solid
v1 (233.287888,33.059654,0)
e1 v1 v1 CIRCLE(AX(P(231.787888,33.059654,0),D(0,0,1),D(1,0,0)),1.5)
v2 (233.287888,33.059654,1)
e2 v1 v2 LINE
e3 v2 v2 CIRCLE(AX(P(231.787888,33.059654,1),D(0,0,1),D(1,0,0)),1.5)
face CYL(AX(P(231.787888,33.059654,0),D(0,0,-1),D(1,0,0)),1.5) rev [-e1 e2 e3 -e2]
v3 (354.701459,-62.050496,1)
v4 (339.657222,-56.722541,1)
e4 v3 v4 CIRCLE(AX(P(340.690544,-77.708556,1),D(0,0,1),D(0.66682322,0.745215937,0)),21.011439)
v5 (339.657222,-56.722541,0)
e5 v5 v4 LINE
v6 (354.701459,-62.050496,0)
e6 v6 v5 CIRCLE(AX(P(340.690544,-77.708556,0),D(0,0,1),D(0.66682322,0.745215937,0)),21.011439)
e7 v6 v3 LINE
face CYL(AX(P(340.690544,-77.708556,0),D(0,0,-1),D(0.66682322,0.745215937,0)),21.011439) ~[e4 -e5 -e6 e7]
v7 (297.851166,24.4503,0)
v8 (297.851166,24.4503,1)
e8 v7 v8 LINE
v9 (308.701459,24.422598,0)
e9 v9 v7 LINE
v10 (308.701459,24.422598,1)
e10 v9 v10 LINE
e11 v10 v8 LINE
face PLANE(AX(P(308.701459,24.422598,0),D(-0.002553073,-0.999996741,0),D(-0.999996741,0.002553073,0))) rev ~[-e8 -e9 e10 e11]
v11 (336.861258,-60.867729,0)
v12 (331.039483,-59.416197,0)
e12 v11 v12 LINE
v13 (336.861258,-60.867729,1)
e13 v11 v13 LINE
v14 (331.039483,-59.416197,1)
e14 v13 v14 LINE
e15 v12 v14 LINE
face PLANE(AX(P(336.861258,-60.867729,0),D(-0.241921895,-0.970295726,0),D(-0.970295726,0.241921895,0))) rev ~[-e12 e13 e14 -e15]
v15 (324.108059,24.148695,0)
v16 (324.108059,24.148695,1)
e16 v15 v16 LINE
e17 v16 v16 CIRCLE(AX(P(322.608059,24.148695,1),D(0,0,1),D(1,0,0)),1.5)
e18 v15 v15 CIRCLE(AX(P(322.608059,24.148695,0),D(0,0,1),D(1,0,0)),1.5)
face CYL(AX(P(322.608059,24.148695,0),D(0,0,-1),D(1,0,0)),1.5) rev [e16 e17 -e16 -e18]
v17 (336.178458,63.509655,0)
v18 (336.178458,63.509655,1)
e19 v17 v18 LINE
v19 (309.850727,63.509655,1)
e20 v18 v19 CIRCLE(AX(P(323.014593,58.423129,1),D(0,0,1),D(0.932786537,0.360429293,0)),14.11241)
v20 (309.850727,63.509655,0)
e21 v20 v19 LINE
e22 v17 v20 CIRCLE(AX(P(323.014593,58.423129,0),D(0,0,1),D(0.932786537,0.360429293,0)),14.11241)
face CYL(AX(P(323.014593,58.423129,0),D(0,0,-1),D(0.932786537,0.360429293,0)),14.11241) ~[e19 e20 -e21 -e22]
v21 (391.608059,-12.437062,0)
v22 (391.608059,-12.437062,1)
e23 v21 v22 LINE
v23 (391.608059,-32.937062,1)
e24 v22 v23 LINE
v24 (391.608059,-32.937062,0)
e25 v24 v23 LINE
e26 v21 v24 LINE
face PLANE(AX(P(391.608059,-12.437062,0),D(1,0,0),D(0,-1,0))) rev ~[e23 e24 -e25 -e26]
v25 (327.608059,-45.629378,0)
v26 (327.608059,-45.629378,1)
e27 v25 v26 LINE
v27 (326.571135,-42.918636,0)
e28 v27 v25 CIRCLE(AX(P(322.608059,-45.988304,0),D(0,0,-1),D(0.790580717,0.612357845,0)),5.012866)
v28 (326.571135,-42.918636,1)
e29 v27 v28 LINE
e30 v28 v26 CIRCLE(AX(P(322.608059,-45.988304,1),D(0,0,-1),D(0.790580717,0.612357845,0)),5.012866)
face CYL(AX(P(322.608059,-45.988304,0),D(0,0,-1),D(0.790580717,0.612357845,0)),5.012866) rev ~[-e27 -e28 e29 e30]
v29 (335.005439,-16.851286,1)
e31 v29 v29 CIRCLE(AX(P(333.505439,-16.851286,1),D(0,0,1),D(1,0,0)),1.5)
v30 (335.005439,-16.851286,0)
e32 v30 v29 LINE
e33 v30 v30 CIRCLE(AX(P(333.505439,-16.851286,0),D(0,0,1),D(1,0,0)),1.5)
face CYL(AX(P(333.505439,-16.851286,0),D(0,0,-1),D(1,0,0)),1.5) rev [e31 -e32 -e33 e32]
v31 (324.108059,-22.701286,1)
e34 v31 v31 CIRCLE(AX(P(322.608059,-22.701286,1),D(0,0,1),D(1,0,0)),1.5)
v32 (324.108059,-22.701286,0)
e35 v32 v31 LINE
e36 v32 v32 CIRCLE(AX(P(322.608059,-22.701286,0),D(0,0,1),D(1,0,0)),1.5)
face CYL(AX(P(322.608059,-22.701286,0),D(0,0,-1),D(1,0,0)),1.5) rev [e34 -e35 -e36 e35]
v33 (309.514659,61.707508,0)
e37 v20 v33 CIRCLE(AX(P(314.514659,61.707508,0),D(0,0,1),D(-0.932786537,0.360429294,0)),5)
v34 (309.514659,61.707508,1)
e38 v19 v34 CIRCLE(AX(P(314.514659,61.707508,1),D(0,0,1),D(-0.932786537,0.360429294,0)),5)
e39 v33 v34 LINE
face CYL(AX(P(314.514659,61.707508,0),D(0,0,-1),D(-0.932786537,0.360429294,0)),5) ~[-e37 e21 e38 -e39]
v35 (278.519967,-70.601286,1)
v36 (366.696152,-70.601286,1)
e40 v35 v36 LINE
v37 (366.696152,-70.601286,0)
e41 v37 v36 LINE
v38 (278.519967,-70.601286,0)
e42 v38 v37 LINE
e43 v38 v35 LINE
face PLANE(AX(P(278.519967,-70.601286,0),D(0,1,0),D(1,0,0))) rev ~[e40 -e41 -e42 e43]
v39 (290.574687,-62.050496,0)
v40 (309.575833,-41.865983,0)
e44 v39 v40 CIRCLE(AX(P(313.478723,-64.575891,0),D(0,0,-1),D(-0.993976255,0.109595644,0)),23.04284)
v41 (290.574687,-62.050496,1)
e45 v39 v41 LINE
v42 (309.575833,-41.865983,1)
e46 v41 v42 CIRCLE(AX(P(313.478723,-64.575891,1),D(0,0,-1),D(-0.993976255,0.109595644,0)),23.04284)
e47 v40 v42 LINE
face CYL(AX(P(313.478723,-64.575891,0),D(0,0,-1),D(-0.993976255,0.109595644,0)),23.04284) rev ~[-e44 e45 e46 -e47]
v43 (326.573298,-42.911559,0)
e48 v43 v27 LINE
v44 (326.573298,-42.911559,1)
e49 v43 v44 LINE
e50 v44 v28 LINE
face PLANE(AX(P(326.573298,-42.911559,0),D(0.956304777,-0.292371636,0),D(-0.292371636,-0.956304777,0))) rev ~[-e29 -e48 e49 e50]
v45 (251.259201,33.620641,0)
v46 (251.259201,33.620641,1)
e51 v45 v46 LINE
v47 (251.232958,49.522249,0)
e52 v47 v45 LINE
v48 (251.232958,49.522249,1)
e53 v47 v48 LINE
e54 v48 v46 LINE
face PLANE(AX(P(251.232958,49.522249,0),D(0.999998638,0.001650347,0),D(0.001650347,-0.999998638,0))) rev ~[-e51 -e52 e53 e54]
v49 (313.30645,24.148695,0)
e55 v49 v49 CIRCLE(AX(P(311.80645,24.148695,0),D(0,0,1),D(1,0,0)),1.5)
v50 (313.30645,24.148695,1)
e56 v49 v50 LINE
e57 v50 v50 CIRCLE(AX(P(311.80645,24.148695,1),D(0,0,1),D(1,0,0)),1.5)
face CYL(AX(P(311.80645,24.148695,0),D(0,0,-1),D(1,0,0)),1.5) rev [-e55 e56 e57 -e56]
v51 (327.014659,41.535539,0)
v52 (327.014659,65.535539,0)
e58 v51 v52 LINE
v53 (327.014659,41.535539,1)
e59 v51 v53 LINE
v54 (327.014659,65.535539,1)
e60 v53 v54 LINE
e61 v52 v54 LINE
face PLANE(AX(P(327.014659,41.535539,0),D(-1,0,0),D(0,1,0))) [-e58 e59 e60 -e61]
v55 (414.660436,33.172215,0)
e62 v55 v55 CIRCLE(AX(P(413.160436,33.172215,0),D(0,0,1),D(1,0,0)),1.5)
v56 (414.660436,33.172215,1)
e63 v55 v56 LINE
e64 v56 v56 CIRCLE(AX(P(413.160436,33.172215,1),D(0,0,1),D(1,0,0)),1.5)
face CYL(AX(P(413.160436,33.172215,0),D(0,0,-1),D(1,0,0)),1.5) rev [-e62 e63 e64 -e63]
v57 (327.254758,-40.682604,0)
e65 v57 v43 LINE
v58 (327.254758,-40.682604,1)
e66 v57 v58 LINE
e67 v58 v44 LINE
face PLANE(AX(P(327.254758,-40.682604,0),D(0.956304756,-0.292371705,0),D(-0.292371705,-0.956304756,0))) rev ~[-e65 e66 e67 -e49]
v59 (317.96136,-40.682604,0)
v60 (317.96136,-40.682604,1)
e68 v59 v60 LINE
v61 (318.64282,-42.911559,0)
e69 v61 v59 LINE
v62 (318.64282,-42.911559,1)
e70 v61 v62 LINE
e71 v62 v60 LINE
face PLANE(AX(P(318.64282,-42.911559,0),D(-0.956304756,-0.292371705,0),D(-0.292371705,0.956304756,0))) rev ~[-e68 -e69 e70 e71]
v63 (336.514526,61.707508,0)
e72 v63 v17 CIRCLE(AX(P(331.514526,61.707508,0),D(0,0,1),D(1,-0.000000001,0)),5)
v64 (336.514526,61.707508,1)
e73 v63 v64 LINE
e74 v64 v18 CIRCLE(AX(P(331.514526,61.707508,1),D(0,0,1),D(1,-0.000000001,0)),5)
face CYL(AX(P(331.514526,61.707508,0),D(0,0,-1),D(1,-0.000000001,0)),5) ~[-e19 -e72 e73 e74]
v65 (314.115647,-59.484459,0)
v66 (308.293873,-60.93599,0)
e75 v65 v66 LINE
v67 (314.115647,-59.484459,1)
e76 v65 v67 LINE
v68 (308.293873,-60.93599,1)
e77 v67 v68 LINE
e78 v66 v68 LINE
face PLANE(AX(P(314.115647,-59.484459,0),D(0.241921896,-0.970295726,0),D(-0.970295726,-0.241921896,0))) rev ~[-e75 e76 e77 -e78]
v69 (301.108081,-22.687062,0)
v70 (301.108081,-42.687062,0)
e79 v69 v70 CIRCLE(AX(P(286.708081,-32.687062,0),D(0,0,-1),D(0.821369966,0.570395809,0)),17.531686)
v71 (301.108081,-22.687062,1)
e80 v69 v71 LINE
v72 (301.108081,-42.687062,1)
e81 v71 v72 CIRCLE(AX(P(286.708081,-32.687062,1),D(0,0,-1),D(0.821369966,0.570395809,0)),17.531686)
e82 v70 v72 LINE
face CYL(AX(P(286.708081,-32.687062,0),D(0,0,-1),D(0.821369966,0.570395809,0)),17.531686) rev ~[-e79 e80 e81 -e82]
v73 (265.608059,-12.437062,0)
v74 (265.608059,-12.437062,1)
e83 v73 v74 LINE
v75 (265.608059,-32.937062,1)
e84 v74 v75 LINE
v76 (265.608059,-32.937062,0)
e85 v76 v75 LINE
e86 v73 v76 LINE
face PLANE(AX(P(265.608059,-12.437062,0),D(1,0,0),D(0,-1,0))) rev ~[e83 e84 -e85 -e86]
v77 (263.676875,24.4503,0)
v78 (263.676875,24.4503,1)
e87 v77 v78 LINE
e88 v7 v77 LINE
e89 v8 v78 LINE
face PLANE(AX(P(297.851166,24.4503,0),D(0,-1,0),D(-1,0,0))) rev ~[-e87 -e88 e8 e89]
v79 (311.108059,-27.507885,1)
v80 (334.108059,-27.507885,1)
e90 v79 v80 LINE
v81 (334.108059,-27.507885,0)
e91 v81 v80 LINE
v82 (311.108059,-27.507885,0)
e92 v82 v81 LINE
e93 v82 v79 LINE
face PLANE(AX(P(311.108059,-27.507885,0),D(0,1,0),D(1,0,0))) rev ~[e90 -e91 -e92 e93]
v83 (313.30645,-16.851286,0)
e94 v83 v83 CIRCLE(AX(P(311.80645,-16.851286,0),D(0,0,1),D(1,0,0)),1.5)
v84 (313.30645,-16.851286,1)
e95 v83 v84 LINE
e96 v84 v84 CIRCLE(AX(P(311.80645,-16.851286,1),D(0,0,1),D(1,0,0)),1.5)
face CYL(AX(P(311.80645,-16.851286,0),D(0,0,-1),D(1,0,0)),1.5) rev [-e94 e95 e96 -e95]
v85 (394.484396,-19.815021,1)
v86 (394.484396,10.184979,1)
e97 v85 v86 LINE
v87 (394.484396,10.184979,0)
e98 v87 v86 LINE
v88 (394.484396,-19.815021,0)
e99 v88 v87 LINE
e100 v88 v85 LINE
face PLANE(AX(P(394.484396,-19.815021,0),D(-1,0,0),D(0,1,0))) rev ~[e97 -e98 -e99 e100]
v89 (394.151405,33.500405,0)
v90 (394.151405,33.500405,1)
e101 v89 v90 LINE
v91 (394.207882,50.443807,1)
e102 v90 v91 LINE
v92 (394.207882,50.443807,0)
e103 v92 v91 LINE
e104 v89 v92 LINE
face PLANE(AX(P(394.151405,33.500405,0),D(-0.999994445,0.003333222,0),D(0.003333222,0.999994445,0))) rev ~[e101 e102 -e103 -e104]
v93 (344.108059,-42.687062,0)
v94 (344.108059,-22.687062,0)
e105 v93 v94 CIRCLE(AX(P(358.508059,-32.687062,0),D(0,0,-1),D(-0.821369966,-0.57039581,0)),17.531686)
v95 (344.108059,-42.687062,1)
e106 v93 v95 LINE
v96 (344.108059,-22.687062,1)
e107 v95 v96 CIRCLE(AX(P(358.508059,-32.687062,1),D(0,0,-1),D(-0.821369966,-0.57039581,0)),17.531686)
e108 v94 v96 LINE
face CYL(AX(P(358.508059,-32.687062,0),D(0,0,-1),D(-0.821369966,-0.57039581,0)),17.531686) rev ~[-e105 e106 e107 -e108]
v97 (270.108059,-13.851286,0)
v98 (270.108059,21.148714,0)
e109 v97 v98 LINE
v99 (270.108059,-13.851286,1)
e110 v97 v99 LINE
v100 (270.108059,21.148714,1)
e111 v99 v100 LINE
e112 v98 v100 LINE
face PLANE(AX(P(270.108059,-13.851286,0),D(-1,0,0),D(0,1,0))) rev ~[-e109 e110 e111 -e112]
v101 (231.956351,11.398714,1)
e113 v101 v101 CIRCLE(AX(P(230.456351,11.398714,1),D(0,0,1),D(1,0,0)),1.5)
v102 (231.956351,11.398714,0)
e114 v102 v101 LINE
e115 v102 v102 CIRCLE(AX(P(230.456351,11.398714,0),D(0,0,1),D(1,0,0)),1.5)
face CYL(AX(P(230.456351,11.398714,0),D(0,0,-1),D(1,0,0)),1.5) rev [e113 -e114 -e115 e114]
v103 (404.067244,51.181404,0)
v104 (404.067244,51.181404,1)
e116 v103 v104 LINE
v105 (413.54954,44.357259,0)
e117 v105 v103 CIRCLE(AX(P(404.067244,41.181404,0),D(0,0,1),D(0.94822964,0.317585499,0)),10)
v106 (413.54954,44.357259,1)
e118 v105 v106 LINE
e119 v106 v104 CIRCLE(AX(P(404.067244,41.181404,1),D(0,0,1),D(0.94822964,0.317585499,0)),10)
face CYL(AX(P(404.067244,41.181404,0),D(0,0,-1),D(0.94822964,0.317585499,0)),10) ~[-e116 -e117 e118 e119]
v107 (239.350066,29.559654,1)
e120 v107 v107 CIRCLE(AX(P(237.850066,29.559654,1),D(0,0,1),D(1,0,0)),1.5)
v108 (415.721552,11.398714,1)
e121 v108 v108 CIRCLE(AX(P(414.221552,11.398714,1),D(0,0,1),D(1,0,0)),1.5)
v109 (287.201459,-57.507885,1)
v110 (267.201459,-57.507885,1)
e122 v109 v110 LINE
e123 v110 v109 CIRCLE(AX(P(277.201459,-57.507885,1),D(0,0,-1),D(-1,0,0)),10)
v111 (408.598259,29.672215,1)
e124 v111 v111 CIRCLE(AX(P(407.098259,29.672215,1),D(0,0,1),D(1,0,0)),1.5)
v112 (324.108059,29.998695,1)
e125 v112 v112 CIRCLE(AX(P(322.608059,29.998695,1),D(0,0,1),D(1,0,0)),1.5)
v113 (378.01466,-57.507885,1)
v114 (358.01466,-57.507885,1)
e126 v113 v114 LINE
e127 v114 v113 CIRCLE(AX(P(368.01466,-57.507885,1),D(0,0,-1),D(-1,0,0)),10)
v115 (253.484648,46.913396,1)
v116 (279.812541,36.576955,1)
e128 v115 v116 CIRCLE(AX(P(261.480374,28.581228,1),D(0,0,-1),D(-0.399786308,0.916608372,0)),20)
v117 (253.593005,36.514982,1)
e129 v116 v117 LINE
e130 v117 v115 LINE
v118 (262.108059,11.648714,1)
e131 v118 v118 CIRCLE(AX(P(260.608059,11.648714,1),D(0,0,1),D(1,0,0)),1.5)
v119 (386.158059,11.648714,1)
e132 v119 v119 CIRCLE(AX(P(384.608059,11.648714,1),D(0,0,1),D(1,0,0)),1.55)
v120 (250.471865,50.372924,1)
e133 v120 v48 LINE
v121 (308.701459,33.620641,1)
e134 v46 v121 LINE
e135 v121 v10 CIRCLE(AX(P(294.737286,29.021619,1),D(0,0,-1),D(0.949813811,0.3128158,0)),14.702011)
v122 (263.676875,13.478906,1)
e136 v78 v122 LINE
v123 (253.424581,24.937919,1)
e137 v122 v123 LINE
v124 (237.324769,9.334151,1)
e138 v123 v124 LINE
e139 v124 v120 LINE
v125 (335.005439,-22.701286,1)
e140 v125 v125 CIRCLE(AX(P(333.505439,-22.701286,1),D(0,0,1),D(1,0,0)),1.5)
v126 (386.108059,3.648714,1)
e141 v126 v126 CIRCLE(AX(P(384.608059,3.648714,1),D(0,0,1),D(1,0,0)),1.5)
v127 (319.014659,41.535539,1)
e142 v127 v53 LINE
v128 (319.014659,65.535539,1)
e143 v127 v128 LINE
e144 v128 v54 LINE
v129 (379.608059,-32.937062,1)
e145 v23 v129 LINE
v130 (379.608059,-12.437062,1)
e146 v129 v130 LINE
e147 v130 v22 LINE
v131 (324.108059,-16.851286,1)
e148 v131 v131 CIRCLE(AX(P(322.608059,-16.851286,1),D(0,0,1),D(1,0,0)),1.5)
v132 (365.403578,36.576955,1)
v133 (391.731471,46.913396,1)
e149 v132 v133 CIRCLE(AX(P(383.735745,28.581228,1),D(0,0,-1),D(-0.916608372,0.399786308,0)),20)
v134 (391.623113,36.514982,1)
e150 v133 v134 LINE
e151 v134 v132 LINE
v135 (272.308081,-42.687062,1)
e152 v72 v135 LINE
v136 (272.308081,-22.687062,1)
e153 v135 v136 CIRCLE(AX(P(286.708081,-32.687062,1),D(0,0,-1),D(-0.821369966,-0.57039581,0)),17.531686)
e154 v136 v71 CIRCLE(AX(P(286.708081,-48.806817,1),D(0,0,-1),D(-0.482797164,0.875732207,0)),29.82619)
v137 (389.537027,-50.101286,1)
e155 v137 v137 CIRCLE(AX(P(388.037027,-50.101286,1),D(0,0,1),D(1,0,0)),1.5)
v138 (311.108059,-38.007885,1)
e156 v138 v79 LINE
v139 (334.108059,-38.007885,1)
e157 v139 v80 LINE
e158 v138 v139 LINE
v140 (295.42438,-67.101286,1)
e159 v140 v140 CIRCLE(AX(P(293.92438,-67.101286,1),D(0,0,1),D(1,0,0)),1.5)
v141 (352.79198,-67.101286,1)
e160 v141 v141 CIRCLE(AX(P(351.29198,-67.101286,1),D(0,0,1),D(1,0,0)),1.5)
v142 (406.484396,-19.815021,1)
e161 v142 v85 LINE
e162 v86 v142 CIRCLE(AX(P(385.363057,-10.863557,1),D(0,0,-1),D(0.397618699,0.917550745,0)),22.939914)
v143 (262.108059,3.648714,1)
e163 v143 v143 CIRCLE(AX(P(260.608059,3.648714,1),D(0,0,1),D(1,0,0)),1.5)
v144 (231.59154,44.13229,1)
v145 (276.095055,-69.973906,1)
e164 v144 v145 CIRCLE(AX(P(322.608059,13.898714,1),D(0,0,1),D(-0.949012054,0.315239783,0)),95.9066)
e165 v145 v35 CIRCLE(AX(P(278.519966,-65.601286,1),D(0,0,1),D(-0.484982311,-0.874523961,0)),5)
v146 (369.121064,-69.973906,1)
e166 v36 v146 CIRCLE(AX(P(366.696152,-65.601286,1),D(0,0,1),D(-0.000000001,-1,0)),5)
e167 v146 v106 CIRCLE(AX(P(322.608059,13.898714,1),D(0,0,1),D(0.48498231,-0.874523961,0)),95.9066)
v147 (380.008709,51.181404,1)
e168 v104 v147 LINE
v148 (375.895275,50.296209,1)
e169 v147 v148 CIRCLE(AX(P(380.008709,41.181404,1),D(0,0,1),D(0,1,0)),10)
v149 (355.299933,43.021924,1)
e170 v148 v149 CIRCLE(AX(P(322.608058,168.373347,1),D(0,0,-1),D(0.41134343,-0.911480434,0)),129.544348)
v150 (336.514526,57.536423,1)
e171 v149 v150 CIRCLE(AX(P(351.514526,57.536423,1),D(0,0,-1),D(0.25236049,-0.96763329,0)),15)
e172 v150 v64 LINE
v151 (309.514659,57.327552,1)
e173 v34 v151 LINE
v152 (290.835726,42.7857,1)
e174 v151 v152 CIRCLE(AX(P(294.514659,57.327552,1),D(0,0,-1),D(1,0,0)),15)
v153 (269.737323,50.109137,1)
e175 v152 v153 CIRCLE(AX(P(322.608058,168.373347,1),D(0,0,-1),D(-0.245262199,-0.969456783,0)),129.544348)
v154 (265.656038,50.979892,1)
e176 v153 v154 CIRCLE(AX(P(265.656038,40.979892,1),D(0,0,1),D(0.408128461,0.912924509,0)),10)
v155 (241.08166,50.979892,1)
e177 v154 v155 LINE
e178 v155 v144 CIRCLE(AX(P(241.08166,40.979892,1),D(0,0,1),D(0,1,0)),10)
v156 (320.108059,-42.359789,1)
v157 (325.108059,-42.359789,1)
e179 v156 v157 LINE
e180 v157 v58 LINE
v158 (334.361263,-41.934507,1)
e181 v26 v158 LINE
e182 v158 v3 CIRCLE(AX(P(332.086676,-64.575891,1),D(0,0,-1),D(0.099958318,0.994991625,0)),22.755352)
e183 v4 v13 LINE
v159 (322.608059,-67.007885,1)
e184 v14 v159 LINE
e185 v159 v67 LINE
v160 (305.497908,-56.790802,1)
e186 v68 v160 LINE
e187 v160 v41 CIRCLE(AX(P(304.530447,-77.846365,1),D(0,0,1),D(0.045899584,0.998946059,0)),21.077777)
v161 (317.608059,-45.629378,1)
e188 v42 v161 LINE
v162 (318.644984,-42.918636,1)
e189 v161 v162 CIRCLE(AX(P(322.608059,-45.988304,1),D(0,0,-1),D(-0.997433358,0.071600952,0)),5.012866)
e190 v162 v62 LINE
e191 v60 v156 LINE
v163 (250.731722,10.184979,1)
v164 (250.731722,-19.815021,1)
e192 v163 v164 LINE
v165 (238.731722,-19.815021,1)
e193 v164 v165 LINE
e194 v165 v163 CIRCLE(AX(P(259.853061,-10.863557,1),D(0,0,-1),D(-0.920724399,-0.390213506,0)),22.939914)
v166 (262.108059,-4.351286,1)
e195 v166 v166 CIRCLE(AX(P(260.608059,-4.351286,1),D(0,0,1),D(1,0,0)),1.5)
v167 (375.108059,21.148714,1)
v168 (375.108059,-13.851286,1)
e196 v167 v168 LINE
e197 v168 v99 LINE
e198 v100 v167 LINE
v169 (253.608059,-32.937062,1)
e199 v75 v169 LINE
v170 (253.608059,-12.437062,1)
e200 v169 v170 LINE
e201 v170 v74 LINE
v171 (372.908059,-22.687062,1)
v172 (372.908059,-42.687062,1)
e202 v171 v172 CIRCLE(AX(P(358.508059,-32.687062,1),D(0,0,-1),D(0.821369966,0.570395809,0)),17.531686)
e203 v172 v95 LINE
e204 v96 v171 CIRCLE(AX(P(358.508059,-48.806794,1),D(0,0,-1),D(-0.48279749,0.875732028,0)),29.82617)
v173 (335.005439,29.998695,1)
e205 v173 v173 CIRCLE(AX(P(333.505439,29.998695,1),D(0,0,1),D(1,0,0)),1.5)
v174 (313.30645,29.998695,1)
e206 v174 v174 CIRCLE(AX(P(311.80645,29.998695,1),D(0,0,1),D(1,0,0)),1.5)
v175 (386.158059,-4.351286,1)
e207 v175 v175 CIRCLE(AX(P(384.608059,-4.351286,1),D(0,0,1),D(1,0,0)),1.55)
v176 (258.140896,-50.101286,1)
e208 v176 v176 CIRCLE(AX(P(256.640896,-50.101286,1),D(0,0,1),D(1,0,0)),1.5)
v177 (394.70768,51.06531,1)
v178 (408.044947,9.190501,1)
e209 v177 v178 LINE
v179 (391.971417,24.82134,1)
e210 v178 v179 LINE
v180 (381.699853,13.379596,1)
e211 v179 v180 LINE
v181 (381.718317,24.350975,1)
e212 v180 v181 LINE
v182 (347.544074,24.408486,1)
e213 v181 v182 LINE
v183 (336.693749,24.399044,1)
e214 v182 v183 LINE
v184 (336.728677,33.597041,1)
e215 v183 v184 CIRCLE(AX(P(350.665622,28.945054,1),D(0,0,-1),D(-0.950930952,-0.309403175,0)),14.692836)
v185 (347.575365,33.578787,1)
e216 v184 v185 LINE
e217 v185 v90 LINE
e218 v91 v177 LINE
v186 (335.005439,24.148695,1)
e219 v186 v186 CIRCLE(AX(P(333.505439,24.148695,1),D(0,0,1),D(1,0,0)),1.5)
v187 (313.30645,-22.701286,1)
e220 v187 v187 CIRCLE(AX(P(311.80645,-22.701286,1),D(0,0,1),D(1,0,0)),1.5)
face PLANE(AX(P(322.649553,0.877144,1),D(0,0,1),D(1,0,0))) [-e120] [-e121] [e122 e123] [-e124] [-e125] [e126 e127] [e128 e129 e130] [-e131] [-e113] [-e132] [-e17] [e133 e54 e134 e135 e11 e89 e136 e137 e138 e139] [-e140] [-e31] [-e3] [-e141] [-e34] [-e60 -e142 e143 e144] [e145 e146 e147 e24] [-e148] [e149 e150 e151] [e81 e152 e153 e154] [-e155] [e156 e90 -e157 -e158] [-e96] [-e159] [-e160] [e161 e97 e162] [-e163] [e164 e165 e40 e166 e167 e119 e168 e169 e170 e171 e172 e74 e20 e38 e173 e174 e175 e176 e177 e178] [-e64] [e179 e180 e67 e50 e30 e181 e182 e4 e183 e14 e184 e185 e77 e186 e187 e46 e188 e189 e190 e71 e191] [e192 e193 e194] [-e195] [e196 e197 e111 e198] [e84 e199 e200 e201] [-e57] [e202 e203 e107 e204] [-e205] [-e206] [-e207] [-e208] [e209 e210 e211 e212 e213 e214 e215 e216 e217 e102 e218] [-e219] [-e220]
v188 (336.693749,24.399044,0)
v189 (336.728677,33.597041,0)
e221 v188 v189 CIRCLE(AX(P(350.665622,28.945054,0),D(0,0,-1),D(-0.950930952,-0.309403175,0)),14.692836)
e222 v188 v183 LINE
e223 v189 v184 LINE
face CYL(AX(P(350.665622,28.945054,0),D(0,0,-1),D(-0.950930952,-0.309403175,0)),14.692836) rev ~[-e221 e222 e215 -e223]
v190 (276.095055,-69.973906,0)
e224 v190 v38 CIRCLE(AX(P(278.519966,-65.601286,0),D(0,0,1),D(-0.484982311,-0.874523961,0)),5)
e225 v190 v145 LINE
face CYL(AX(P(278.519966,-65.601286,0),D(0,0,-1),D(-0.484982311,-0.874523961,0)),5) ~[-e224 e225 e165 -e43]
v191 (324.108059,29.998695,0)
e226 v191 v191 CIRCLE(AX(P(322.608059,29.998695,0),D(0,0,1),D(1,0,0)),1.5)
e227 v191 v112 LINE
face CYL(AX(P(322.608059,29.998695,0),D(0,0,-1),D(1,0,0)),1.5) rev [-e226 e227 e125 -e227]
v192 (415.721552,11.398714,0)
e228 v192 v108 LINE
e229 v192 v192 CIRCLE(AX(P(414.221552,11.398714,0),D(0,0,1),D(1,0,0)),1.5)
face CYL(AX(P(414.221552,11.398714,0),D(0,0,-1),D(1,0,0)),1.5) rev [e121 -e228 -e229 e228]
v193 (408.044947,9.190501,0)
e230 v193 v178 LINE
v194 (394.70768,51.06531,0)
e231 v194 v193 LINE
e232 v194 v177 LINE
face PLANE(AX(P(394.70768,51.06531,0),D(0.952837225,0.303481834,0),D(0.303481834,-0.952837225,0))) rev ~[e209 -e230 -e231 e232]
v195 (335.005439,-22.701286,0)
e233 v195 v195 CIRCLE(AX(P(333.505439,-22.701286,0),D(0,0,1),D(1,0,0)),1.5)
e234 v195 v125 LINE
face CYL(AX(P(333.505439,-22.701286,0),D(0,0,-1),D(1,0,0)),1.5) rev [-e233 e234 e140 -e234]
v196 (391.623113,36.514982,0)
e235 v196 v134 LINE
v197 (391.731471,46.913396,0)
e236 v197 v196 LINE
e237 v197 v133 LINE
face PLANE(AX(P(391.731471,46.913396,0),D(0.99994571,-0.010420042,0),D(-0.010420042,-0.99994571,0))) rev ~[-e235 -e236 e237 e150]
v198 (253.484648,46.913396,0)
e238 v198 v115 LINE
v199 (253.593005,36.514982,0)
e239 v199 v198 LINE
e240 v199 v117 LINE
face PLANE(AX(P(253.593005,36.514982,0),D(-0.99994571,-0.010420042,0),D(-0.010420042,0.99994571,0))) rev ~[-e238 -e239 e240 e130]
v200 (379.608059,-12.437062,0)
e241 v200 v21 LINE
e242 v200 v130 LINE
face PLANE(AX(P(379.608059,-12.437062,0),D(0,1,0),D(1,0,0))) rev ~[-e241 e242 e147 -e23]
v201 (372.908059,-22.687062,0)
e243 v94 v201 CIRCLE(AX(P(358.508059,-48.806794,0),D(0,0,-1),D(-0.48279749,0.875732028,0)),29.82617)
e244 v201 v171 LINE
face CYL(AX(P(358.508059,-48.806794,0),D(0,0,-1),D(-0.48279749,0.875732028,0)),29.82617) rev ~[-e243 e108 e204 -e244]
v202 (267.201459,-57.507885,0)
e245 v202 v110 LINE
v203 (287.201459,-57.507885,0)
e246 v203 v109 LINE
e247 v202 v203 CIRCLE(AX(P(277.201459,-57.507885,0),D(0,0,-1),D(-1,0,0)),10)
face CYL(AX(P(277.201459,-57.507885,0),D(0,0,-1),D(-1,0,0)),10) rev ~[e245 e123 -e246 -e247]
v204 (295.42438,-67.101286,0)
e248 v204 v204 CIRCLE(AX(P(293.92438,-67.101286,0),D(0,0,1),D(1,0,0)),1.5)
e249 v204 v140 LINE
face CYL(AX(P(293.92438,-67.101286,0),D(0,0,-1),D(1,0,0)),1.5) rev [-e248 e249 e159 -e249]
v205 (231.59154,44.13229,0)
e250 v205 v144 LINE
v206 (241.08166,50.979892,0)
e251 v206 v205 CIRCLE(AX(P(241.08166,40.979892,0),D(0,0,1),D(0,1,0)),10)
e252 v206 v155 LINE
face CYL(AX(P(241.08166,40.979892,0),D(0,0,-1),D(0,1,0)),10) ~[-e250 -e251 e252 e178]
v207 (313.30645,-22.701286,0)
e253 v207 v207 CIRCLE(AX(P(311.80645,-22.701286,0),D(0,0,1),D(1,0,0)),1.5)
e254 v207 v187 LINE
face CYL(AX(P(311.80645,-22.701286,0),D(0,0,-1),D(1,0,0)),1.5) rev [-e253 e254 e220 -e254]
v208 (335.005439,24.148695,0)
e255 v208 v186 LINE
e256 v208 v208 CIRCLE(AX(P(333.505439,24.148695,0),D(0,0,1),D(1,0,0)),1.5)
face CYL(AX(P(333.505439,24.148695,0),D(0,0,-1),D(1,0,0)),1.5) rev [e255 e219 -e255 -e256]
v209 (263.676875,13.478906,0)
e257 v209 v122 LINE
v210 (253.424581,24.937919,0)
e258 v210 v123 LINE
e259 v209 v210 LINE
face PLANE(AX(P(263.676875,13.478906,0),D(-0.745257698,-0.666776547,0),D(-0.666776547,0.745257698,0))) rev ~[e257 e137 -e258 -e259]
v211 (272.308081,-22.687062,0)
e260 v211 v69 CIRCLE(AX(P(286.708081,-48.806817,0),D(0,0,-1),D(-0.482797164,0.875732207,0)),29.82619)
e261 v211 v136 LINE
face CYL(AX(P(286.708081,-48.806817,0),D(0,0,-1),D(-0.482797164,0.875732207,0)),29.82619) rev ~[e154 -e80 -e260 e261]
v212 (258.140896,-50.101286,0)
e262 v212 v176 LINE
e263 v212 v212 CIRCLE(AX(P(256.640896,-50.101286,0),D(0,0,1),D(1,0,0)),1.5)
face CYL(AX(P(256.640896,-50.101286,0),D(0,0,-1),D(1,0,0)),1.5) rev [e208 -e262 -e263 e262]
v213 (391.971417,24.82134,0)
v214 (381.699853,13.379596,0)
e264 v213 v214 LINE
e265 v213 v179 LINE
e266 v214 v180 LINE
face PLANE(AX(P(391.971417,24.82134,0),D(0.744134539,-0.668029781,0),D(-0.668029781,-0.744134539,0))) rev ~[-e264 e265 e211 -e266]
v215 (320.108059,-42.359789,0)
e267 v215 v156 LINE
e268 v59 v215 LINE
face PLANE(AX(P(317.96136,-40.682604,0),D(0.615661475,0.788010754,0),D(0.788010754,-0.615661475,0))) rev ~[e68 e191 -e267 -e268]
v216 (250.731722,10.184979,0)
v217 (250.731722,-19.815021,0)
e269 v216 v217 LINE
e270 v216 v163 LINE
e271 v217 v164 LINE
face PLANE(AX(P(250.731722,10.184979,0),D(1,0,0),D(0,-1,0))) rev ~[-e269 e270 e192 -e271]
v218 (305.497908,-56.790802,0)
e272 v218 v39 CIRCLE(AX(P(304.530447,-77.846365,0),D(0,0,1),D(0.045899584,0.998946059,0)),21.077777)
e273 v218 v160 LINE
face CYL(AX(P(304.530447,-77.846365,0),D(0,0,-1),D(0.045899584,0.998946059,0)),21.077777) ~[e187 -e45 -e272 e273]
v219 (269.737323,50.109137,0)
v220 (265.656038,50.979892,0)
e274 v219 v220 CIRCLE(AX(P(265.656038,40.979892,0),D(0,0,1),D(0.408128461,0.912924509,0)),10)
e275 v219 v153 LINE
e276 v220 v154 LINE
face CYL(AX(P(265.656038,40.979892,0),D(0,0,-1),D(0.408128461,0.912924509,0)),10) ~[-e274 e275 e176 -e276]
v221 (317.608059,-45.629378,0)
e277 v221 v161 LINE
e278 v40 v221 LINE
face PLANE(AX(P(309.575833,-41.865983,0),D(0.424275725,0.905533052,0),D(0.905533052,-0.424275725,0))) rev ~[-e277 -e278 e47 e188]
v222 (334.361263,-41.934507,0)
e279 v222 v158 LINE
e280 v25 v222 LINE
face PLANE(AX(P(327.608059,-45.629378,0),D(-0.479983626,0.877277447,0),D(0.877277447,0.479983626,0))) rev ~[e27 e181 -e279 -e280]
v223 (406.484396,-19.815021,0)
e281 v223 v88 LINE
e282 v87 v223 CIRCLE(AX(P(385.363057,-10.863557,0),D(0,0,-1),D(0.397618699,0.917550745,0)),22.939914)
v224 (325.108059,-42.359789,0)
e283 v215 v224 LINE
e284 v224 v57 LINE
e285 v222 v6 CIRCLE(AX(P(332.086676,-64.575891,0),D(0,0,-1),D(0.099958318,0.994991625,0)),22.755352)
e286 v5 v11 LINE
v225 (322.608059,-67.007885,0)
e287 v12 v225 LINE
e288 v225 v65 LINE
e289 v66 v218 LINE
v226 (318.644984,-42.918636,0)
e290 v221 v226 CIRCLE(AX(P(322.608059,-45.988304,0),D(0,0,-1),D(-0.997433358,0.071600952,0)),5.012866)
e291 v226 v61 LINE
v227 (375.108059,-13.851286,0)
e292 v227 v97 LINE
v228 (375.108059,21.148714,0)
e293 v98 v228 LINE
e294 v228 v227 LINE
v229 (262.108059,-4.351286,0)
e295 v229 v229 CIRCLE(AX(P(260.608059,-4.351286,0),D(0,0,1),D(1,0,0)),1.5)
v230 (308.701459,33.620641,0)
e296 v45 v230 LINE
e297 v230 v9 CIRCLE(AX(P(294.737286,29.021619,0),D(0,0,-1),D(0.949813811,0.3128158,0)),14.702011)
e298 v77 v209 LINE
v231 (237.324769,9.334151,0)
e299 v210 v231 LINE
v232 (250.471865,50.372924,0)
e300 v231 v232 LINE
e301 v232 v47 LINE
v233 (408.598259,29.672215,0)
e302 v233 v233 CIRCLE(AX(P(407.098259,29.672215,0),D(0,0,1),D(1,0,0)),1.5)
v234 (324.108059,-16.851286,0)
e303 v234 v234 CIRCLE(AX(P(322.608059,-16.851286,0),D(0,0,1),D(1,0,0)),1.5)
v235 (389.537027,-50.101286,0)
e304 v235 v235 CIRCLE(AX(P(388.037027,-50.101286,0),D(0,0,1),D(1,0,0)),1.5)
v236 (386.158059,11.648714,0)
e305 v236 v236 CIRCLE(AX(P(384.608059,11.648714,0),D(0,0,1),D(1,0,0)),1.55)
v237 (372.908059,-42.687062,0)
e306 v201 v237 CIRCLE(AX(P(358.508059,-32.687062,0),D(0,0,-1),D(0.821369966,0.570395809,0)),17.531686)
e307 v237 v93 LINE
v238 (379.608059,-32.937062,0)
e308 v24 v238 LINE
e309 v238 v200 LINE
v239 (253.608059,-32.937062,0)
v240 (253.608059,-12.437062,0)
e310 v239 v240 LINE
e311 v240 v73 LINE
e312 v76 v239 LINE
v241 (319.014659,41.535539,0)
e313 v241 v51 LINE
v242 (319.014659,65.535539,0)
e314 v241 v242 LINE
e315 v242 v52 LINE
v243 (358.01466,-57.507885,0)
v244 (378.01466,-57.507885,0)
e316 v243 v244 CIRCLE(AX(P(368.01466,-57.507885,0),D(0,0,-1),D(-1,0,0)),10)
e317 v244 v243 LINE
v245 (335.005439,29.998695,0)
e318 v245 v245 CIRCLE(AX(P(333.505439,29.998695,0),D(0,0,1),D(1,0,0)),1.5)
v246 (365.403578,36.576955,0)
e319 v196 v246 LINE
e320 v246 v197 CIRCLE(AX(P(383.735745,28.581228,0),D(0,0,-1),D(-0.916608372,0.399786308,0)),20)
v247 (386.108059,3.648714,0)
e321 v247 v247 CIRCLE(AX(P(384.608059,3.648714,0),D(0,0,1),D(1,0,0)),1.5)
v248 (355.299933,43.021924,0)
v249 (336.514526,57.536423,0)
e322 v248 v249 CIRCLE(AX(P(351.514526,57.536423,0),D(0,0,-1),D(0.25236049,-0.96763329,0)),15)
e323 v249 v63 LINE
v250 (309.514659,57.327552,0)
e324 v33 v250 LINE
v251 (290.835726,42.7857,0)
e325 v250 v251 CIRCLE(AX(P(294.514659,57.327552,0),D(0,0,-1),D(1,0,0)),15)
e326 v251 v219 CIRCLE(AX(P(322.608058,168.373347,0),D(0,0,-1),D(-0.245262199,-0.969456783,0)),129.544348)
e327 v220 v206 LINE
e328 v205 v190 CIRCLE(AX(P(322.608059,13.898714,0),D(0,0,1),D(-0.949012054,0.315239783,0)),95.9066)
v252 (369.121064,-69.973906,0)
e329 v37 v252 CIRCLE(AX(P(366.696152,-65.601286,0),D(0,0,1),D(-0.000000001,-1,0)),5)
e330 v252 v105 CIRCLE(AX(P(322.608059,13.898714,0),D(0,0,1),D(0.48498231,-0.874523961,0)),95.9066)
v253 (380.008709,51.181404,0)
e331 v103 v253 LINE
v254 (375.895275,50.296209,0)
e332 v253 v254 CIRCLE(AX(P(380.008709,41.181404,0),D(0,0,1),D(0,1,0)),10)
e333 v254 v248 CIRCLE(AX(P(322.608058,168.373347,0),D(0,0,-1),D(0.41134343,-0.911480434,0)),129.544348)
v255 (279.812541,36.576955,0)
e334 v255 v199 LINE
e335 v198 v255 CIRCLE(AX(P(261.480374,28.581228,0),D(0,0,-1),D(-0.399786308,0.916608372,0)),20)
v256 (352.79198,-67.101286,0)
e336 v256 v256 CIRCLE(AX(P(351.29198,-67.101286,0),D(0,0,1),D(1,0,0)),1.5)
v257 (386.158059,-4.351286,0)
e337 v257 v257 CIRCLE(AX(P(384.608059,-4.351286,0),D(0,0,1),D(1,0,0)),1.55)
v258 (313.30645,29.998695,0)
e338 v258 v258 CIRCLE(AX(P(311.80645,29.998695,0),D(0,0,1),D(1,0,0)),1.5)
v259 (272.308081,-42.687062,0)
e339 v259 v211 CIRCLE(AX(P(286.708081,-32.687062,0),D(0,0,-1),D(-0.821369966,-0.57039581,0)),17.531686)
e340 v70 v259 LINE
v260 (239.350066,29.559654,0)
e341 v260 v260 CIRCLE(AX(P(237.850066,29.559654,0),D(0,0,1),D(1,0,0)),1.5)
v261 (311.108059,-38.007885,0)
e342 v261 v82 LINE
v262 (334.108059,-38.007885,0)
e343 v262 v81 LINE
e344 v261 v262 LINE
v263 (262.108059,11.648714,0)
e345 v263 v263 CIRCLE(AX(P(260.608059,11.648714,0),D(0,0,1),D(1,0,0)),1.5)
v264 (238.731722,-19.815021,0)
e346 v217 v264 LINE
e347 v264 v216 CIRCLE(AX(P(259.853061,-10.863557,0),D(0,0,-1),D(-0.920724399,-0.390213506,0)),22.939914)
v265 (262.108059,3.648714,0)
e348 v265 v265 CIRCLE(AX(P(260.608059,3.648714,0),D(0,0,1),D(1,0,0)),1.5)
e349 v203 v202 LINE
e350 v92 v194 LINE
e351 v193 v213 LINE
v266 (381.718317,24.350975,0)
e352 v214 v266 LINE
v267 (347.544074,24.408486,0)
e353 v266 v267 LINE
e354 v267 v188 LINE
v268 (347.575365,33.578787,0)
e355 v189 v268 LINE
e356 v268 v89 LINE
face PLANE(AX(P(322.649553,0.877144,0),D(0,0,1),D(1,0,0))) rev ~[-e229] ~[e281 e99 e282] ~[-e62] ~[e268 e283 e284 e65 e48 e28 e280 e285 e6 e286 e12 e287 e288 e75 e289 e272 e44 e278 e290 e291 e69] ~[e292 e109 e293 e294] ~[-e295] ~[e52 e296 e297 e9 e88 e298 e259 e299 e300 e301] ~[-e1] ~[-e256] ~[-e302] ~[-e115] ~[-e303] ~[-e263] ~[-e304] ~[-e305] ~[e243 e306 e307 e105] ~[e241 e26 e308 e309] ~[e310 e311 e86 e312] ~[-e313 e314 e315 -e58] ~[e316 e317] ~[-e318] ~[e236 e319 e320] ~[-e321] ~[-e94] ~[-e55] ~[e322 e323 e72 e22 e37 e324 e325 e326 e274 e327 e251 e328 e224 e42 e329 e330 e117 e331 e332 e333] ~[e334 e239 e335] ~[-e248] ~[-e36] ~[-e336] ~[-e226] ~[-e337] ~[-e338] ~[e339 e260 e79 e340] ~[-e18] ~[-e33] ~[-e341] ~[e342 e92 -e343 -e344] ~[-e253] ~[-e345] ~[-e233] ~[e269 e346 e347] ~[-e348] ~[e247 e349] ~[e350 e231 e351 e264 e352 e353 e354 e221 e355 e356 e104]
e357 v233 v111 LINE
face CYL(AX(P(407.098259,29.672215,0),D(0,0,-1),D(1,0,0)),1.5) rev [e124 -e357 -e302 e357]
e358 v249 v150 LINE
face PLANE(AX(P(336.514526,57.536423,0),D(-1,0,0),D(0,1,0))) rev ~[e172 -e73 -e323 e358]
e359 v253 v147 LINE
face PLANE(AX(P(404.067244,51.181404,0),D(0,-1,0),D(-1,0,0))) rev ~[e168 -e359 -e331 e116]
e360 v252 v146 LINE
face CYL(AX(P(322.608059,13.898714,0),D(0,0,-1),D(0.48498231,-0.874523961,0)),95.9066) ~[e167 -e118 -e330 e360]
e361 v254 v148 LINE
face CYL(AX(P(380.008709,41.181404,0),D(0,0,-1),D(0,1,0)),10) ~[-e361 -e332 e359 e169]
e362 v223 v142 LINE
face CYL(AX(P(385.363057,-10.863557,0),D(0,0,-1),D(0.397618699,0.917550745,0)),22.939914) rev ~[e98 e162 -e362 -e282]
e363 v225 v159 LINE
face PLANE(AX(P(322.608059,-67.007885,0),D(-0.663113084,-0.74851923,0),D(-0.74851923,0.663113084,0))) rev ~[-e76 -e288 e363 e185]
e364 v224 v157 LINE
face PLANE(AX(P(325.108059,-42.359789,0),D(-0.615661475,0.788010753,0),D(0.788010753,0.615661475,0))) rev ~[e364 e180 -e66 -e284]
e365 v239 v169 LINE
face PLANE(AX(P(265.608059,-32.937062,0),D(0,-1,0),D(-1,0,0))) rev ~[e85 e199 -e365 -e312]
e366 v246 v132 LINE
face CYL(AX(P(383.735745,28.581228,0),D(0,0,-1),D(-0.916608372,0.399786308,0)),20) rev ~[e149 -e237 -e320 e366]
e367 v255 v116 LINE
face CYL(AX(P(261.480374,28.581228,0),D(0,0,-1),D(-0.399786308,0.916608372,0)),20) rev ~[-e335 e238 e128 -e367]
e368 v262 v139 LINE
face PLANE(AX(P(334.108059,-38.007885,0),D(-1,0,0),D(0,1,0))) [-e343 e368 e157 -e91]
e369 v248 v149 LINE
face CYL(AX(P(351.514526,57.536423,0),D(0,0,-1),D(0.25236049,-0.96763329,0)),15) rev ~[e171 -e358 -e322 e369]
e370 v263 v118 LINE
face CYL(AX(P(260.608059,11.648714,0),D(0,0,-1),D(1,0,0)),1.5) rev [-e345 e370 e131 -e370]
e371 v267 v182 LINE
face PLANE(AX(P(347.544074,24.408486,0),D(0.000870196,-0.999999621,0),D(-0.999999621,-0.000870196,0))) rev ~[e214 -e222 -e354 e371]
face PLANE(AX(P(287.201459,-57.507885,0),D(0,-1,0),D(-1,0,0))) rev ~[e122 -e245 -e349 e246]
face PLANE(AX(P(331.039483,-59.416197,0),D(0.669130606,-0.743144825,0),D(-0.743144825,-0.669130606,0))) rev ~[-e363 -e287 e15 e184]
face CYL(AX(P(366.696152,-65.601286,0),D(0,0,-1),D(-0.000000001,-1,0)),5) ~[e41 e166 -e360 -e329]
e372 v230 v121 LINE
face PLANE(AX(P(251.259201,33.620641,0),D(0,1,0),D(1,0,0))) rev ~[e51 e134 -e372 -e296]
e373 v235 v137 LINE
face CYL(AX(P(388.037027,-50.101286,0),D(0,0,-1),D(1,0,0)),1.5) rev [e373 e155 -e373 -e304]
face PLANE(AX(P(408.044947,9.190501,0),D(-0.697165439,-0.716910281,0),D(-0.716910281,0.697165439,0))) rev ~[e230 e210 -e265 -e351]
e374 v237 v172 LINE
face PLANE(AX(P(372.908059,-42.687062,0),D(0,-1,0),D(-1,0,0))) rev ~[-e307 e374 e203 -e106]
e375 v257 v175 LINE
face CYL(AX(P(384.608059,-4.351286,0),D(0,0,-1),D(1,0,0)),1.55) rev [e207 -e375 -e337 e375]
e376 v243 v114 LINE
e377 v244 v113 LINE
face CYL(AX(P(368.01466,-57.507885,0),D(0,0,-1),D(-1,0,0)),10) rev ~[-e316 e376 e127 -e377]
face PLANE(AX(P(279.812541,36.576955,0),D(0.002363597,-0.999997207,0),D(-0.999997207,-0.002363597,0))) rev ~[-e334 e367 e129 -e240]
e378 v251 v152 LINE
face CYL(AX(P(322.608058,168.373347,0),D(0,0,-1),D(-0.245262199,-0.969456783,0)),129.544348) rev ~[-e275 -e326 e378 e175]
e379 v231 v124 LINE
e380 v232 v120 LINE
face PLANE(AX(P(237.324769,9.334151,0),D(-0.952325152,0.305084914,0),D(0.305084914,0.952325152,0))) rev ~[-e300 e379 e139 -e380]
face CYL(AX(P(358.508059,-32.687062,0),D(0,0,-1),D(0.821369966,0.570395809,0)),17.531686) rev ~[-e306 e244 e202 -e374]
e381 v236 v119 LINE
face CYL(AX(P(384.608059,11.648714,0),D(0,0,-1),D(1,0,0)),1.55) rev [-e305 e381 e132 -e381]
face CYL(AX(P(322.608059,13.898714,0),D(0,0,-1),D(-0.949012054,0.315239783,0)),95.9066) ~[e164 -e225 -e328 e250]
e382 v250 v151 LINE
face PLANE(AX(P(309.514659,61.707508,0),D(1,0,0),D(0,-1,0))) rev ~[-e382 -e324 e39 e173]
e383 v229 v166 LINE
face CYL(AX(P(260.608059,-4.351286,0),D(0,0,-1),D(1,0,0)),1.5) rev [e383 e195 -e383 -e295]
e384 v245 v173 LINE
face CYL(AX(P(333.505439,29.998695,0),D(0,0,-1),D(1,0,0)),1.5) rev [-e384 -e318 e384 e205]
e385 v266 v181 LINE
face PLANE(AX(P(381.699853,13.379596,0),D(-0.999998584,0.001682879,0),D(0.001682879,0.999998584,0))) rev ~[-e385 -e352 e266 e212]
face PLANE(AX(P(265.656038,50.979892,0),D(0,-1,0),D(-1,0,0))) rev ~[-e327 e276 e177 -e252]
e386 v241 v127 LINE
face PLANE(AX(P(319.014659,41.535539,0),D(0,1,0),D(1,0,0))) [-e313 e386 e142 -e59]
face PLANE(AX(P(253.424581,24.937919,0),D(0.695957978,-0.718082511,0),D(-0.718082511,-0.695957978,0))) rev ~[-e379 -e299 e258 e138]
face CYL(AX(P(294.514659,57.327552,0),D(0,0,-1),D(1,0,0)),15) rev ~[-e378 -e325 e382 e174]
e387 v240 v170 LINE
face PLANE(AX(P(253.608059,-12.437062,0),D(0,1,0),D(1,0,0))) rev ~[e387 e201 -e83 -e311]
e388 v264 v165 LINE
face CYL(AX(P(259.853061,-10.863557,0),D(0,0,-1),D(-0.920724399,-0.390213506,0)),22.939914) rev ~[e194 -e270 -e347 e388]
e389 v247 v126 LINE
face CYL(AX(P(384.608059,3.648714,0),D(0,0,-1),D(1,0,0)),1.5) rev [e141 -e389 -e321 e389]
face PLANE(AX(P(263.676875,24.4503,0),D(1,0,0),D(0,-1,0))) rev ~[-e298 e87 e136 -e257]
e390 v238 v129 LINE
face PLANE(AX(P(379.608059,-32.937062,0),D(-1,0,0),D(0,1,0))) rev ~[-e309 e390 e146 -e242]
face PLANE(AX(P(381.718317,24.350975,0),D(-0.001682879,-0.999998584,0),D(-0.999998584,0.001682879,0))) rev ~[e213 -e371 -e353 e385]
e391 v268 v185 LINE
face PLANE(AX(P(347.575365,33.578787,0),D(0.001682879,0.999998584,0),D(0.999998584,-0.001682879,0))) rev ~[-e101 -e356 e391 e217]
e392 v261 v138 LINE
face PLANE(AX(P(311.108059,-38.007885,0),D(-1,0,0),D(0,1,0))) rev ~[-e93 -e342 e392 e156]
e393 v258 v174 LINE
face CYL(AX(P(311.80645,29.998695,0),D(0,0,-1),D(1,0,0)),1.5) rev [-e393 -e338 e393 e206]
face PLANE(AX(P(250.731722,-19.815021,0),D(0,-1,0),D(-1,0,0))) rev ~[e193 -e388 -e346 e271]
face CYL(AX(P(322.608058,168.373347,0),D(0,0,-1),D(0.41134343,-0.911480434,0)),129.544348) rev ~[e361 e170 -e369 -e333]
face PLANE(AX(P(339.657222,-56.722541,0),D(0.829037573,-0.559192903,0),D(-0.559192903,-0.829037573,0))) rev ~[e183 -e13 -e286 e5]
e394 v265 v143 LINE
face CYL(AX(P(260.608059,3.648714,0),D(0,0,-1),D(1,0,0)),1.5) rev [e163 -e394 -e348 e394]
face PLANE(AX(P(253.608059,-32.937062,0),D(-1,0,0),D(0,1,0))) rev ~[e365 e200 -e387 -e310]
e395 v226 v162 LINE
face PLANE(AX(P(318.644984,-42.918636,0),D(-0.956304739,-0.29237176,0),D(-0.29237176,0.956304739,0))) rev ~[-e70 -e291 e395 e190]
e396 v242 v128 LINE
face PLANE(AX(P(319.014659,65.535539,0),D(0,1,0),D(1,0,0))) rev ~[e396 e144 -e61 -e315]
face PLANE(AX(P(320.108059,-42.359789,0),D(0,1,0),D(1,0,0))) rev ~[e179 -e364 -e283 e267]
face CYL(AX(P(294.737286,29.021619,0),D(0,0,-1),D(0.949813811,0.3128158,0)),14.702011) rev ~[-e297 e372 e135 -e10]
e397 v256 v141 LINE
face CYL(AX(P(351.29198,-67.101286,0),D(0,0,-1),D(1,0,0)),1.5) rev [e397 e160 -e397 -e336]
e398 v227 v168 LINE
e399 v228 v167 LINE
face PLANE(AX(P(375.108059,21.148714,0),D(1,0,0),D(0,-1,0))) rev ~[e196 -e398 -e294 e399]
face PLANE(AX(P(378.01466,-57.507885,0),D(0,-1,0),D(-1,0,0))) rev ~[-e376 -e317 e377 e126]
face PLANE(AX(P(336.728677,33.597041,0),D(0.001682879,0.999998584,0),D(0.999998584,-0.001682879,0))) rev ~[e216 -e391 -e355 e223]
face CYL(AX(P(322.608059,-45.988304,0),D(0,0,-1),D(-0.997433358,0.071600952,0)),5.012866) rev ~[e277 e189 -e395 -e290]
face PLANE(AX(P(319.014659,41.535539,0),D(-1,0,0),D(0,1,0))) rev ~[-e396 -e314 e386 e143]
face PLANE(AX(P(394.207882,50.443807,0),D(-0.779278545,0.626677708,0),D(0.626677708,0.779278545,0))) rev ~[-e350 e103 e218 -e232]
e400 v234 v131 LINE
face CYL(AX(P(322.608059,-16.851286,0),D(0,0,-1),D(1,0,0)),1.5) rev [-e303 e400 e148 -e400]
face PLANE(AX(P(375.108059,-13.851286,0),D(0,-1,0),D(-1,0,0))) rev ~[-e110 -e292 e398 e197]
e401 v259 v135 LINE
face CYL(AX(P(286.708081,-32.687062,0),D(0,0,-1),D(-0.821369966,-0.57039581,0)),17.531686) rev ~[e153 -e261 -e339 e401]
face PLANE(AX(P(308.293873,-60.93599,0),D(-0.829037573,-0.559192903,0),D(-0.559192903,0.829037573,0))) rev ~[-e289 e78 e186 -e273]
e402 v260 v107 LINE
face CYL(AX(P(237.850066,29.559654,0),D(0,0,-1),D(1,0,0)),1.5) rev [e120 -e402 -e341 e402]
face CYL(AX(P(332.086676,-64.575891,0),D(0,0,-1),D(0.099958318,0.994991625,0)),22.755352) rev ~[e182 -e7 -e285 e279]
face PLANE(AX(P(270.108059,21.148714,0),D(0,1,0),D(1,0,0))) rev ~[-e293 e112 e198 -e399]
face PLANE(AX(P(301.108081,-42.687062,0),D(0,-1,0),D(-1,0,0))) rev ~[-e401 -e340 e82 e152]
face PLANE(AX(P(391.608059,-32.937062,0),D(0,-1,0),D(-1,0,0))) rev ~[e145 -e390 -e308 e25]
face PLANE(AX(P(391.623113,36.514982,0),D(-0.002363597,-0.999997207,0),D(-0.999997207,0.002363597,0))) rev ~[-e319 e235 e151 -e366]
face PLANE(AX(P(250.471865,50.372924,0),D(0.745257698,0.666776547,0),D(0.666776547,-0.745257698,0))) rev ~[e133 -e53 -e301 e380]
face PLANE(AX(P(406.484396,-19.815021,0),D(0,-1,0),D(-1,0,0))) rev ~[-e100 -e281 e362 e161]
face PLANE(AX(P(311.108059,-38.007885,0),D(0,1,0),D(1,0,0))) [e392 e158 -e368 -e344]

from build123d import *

# Parameters (mm, degrees)
CROQUIS1_R              = 1.5
CROQUIS1_W              = 23
CROQUIS1_H              = 10.5
CROQUIS1_R_2            = 1.55
CROQUIS1_W_2            = 8
CROQUIS1_H_2            = 24
SALIENTE_EXTRUIR1_DEPTH = 1


with BuildPart() as part:
    # Croquis1 → Saliente-Extruir1 (new body)
    with BuildSketch(Plane.XY):
        with BuildLine():
            ThreePointArc((309.850726744, 63.509654663), (309.599394258, 62.624115136), (309.514659431, 61.707508197))
            Line((309.514659431, 61.707508197), (309.514659431, 57.327552176))
            ThreePointArc((309.514659431, 57.327552176), (303.729213281, 45.491505651), (290.835726452, 42.785700432))
            ThreePointArc((290.835726452, 42.785700432), (280.128411441, 45.991903753), (269.737322706, 50.109136972))
            ThreePointArc((269.737322706, 50.109136972), (267.74260814, 50.759780707), (265.656038098, 50.97989188))
            Line((265.656038098, 50.97989188), (241.08166038, 50.97989188))
            ThreePointArc((241.08166038, 50.97989188), (235.230334816, 49.089268499), (231.591539837, 44.13228971))
            ThreePointArc((231.591539837, 44.13228971), (233.256794927, -20.949922712), (276.095054953, -69.973905885))
            ThreePointArc((276.095054953, -69.973905885), (277.267588571, -70.441900659), (278.519966502, -70.601286078))
            Line((278.519966502, -70.601286078), (293.924380078, -70.601286078))
            Line((293.924380078, -70.601286078), (366.696152251, -70.601286078))
            ThreePointArc((366.696152251, -70.601286078), (367.948530182, -70.441900659), (369.121063801, -69.973905885))
            ThreePointArc((369.121063801, -69.973905885), (412.002341733, -20.83942385), (413.549540259, 44.357259338))
            ThreePointArc((413.549540259, 44.357259338), (409.908538666, 49.29800924), (404.067243855, 51.18140435))
            Line((404.067243855, 51.18140435), (380.008708846, 51.18140435))
            ThreePointArc((380.008708846, 51.18140435), (377.904907933, 50.95760104), (375.895274543, 50.296208695))
            ThreePointArc((375.895274543, 50.296208695), (365.751190215, 46.2242243), (355.299933141, 43.021923672))
            ThreePointArc((355.299933141, 43.021923672), (342.343405641, 45.666690288), (336.514525798, 57.536423018))
            Line((336.514525798, 57.536423018), (336.514525798, 61.707508197))
            ThreePointArc((336.514525798, 61.707508197), (336.429790971, 62.624115136), (336.178458485, 63.509654663))
            ThreePointArc((336.178458485, 63.509654663), (323.014592614, 72.53553857), (309.850726744, 63.509654663))
        make_face()
        with Locations((256.640896295, -50.101286078)):
            Circle(CROQUIS1_R, mode=Mode.SUBTRACT)
        with Locations((293.924380078, -67.101286078)):
            Circle(CROQUIS1_R, mode=Mode.SUBTRACT)
        with BuildLine():
            Line((287.201459209, -57.50788535), (267.201459209, -57.50788535))
            ThreePointArc((267.201459209, -57.50788535), (277.201459209, -47.50788535), (287.201459209, -57.50788535))
        make_face(mode=Mode.SUBTRACT)
        Polygon((259.608059377, -32.937061776), (253.608059377, -32.937061776), (253.608059377, -12.437061776), (265.608059377, -12.437061776), (265.608059377, -32.937061776), align=None, mode=Mode.SUBTRACT)
        with BuildLine():
            Line((250.731722484, 10.184978786), (250.731722484, -19.815021214))
            Line((250.731722484, -19.815021214), (238.731722484, -19.815021214))
            ThreePointArc((238.731722484, -19.815021214), (238.55388558, -2.343886452), (250.731722484, 10.184978786))
        make_face(mode=Mode.SUBTRACT)
        with Locations((260.608059377, -4.351286077)):
            Circle(CROQUIS1_R, mode=Mode.SUBTRACT)
        with BuildLine():
            ThreePointArc((301.108080537, -22.687061776), (304.239766137, -32.687061776), (301.108080537, -42.687061776))
            Line((301.108080537, -42.687061776), (272.308080537, -42.687061776))
            ThreePointArc((272.308080537, -42.687061776), (269.176394936, -32.687061776), (272.308080537, -22.687061776))
            ThreePointArc((272.308080537, -22.687061776), (286.708080537, -18.980626962), (301.108080537, -22.687061776))
        make_face(mode=Mode.SUBTRACT)
        with Locations((311.80644959, -22.701286077)):
            Circle(CROQUIS1_R, mode=Mode.SUBTRACT)
        with Locations((322.608059377, -22.701286077)):
            Circle(CROQUIS1_R, mode=Mode.SUBTRACT)
        with Locations((311.80644959, -16.851286077)):
            Circle(CROQUIS1_R, mode=Mode.SUBTRACT)
        with Locations((322.608059377, -16.851286077)):
            Circle(CROQUIS1_R, mode=Mode.SUBTRACT)
        with BuildLine():
            Line((331.039483308, -59.416197143), (322.608059377, -67.00788535))
            Line((322.608059377, -67.00788535), (314.115647223, -59.484458572))
            Line((314.115647223, -59.484458572), (308.293872865, -60.935989946))
            Line((308.293872865, -60.935989946), (305.497908348, -56.790802083))
            ThreePointArc((305.497908348, -56.790802083), (297.524016311, -57.967163869), (290.57468702, -62.050496292))
            ThreePointArc((290.57468702, -62.050496292), (296.700568728, -48.781397839), (309.575833339, -41.865983052))
            Line((309.575833339, -41.865983052), (317.608059377, -45.629378016))
            ThreePointArc((317.608059377, -45.629378016), (317.926050133, -44.19732179), (318.644984002, -42.91863604))
            Line((318.644984002, -42.91863604), (318.642820451, -42.911559385))
            Line((318.642820451, -42.911559385), (317.961360482, -40.68260426))
            Line((317.961360482, -40.68260426), (320.108059377, -42.359789251))
            Line((320.108059377, -42.359789251), (322.608059377, -42.359789251))
            Line((322.608059377, -42.359789251), (325.108059377, -42.359789251))
            Line((325.108059377, -42.359789251), (327.254758271, -40.68260426))
            Line((327.254758271, -40.68260426), (326.573298302, -42.911559385))
            Line((326.573298302, -42.911559385), (326.571134752, -42.91863604))
            ThreePointArc((326.571134752, -42.91863604), (327.29006862, -44.19732179), (327.608059377, -45.629378016))
            Line((327.608059377, -45.629378016), (334.361262908, -41.934506878))
            ThreePointArc((334.361262908, -41.934506878), (348.087721137, -48.396503366), (354.701459209, -62.050496292))
            ThreePointArc((354.701459209, -62.050496292), (347.70490498, -57.902513314), (339.657222183, -56.722540654))
            Line((339.657222183, -56.722540654), (336.861257666, -60.867728516))
            Line((336.861257666, -60.867728516), (331.039483308, -59.416197143))
        make_face(mode=Mode.SUBTRACT)
        with Locations((351.291980078, -67.101286078)):
            Circle(CROQUIS1_R, mode=Mode.SUBTRACT)
        with BuildLine():
            ThreePointArc((358.014659544, -57.50788535), (368.014659544, -47.50788535), (378.014659544, -57.50788535))
            Line((378.014659544, -57.50788535), (358.014659544, -57.50788535))
        make_face(mode=Mode.SUBTRACT)
        with Locations((388.037027296, -50.101286078)):
            Circle(CROQUIS1_R, mode=Mode.SUBTRACT)
        with Locations((322.608059377, -32.75788535)):
            Rectangle(CROQUIS1_W, CROQUIS1_H, mode=Mode.SUBTRACT)
        with Locations((333.505439463, -22.701286077)):
            Circle(CROQUIS1_R, mode=Mode.SUBTRACT)
        with BuildLine():
            ThreePointArc((372.908059377, -22.687061776), (376.039744977, -32.687061776), (372.908059377, -42.687061776))
            Line((372.908059377, -42.687061776), (344.108059377, -42.687061776))
            ThreePointArc((344.108059377, -42.687061776), (340.976373776, -32.687061776), (344.108059377, -22.687061776))
            ThreePointArc((344.108059377, -22.687061776), (358.508059377, -18.980624104), (372.908059377, -22.687061776))
        make_face(mode=Mode.SUBTRACT)
        with Locations((333.505439463, -16.851286077)):
            Circle(CROQUIS1_R, mode=Mode.SUBTRACT)
        Polygon((391.608059377, -12.437061776), (391.608059377, -22.687061776), (391.608059377, -32.937061776), (379.608059377, -32.937061776), (379.608059377, -12.437061776), align=None, mode=Mode.SUBTRACT)
        with Locations((384.608059377, -4.351286077)):
            Circle(CROQUIS1_R_2, mode=Mode.SUBTRACT)
        with BuildLine():
            Line((406.484396269, -19.815021214), (394.484396269, -19.815021214))
            Line((394.484396269, -19.815021214), (394.484396269, 10.184978786))
            ThreePointArc((394.484396269, 10.184978786), (406.662233173, -2.343886452), (406.484396269, -19.815021214))
        make_face(mode=Mode.SUBTRACT)
        with Locations((230.456351063, 11.398713923)):
            Circle(CROQUIS1_R, mode=Mode.SUBTRACT)
        with Locations((260.608059377, 3.648713923)):
            Circle(CROQUIS1_R, mode=Mode.SUBTRACT)
        with Locations((260.608059377, 11.648713923)):
            Circle(CROQUIS1_R, mode=Mode.SUBTRACT)
        with Locations((237.850066081, 29.559654286)):
            Circle(CROQUIS1_R, mode=Mode.SUBTRACT)
        with Locations((231.787888255, 33.059654286)):
            Circle(CROQUIS1_R, mode=Mode.SUBTRACT)
        with BuildLine():
            Line((250.471865132, 50.372923914), (251.232957867, 49.522248793))
            Line((251.232957867, 49.522248793), (251.259201082, 33.620640627))
            Line((251.259201082, 33.620640627), (297.835307665, 33.620640627))
            Line((297.835307665, 33.620640627), (308.701459209, 33.620640627))
            ThreePointArc((308.701459209, 33.620640627), (309.439297107, 29.02161934), (308.701459209, 24.422598054))
            Line((308.701459209, 24.422598054), (297.851166076, 24.450299737))
            Line((297.851166076, 24.450299737), (263.676874646, 24.450299737))
            Line((263.676874646, 24.450299737), (263.676874646, 13.478905654))
            Line((263.676874646, 13.478905654), (253.424580574, 24.937918602))
            Line((253.424580574, 24.937918602), (237.324768948, 9.334151374))
            Line((237.324768948, 9.334151374), (250.471865132, 50.372923914))
        make_face(mode=Mode.SUBTRACT)
        with Locations((311.80644959, 24.148694548)):
            Circle(CROQUIS1_R, mode=Mode.SUBTRACT)
        with Locations((322.608059377, 24.148694548)):
            Circle(CROQUIS1_R, mode=Mode.SUBTRACT)
        with Locations((311.80644959, 29.998694548)):
            Circle(CROQUIS1_R, mode=Mode.SUBTRACT)
        with Locations((322.608059377, 29.998694548)):
            Circle(CROQUIS1_R, mode=Mode.SUBTRACT)
        with BuildLine():
            Line((279.812541184, 36.57695454), (253.593005368, 36.514981952))
            Line((253.593005368, 36.514981952), (253.484647579, 46.913395819))
            ThreePointArc((253.484647579, 46.913395819), (268.789341464, 47.197860479), (279.812541184, 36.57695454))
        make_face(mode=Mode.SUBTRACT)
        Polygon((272.608059377, 21.148713923), (283.608059377, 21.148713923), (361.608059377, 21.148713923), (372.608059377, 21.148713923), (375.108059377, 21.148713923), (375.108059377, -13.851286077), (372.908059377, -13.851286077), (272.308059377, -13.851286077), (270.108059377, -13.851286077), (270.108059377, 21.148713923), (272.308059377, 21.148713923), align=None, mode=Mode.SUBTRACT)
        with Locations((333.505439463, 24.148694548)):
            Circle(CROQUIS1_R, mode=Mode.SUBTRACT)
        with Locations((333.505439463, 29.998694548)):
            Circle(CROQUIS1_R, mode=Mode.SUBTRACT)
        with Locations((384.608059377, 3.648713923)):
            Circle(CROQUIS1_R, mode=Mode.SUBTRACT)
        with Locations((384.608059377, 11.648713923)):
            Circle(CROQUIS1_R_2, mode=Mode.SUBTRACT)
        with Locations((414.221552147, 11.398713923)):
            Circle(CROQUIS1_R, mode=Mode.SUBTRACT)
        with BuildLine():
            Line((394.151405418, 33.500405421), (394.207881843, 50.443807073))
            Line((394.207881843, 50.443807073), (394.707680127, 51.065310079))
            Line((394.707680127, 51.065310079), (408.044946606, 9.190500601))
            Line((408.044946606, 9.190500601), (391.971417025, 24.821339763))
            Line((391.971417025, 24.821339763), (381.699853342, 13.379596408))
            Line((381.699853342, 13.379596408), (381.718316867, 24.350974954))
            Line((381.718316867, 24.350974954), (347.544073829, 24.40848614))
            Line((347.544073829, 24.40848614), (336.693749442, 24.399044223))
            ThreePointArc((336.693749442, 24.399044223), (335.972891899, 29.000846221), (336.728676512, 33.597041043))
            Line((336.728676512, 33.597041043), (347.575364789, 33.578787357))
            Line((347.575364789, 33.578787357), (394.151405418, 33.500405421))
        make_face(mode=Mode.SUBTRACT)
        with Locations((407.098258666, 29.672214925)):
            Circle(CROQUIS1_R, mode=Mode.SUBTRACT)
        with Locations((413.160436493, 33.172214925)):
            Circle(CROQUIS1_R, mode=Mode.SUBTRACT)
        with Locations((323.014659431, 53.53553857)):
            Rectangle(CROQUIS1_W_2, CROQUIS1_H_2, mode=Mode.SUBTRACT)
        with BuildLine():
            Line((391.731471174, 46.913395819), (391.623113385, 36.514981952))
            Line((391.623113385, 36.514981952), (365.403577569, 36.57695454))
            ThreePointArc((365.403577569, 36.57695454), (376.426777289, 47.197860479), (391.731471174, 46.913395819))
        make_face(mode=Mode.SUBTRACT)
    extrude(amount=SALIENTE_EXTRUIR1_DEPTH)


solid = part.part
